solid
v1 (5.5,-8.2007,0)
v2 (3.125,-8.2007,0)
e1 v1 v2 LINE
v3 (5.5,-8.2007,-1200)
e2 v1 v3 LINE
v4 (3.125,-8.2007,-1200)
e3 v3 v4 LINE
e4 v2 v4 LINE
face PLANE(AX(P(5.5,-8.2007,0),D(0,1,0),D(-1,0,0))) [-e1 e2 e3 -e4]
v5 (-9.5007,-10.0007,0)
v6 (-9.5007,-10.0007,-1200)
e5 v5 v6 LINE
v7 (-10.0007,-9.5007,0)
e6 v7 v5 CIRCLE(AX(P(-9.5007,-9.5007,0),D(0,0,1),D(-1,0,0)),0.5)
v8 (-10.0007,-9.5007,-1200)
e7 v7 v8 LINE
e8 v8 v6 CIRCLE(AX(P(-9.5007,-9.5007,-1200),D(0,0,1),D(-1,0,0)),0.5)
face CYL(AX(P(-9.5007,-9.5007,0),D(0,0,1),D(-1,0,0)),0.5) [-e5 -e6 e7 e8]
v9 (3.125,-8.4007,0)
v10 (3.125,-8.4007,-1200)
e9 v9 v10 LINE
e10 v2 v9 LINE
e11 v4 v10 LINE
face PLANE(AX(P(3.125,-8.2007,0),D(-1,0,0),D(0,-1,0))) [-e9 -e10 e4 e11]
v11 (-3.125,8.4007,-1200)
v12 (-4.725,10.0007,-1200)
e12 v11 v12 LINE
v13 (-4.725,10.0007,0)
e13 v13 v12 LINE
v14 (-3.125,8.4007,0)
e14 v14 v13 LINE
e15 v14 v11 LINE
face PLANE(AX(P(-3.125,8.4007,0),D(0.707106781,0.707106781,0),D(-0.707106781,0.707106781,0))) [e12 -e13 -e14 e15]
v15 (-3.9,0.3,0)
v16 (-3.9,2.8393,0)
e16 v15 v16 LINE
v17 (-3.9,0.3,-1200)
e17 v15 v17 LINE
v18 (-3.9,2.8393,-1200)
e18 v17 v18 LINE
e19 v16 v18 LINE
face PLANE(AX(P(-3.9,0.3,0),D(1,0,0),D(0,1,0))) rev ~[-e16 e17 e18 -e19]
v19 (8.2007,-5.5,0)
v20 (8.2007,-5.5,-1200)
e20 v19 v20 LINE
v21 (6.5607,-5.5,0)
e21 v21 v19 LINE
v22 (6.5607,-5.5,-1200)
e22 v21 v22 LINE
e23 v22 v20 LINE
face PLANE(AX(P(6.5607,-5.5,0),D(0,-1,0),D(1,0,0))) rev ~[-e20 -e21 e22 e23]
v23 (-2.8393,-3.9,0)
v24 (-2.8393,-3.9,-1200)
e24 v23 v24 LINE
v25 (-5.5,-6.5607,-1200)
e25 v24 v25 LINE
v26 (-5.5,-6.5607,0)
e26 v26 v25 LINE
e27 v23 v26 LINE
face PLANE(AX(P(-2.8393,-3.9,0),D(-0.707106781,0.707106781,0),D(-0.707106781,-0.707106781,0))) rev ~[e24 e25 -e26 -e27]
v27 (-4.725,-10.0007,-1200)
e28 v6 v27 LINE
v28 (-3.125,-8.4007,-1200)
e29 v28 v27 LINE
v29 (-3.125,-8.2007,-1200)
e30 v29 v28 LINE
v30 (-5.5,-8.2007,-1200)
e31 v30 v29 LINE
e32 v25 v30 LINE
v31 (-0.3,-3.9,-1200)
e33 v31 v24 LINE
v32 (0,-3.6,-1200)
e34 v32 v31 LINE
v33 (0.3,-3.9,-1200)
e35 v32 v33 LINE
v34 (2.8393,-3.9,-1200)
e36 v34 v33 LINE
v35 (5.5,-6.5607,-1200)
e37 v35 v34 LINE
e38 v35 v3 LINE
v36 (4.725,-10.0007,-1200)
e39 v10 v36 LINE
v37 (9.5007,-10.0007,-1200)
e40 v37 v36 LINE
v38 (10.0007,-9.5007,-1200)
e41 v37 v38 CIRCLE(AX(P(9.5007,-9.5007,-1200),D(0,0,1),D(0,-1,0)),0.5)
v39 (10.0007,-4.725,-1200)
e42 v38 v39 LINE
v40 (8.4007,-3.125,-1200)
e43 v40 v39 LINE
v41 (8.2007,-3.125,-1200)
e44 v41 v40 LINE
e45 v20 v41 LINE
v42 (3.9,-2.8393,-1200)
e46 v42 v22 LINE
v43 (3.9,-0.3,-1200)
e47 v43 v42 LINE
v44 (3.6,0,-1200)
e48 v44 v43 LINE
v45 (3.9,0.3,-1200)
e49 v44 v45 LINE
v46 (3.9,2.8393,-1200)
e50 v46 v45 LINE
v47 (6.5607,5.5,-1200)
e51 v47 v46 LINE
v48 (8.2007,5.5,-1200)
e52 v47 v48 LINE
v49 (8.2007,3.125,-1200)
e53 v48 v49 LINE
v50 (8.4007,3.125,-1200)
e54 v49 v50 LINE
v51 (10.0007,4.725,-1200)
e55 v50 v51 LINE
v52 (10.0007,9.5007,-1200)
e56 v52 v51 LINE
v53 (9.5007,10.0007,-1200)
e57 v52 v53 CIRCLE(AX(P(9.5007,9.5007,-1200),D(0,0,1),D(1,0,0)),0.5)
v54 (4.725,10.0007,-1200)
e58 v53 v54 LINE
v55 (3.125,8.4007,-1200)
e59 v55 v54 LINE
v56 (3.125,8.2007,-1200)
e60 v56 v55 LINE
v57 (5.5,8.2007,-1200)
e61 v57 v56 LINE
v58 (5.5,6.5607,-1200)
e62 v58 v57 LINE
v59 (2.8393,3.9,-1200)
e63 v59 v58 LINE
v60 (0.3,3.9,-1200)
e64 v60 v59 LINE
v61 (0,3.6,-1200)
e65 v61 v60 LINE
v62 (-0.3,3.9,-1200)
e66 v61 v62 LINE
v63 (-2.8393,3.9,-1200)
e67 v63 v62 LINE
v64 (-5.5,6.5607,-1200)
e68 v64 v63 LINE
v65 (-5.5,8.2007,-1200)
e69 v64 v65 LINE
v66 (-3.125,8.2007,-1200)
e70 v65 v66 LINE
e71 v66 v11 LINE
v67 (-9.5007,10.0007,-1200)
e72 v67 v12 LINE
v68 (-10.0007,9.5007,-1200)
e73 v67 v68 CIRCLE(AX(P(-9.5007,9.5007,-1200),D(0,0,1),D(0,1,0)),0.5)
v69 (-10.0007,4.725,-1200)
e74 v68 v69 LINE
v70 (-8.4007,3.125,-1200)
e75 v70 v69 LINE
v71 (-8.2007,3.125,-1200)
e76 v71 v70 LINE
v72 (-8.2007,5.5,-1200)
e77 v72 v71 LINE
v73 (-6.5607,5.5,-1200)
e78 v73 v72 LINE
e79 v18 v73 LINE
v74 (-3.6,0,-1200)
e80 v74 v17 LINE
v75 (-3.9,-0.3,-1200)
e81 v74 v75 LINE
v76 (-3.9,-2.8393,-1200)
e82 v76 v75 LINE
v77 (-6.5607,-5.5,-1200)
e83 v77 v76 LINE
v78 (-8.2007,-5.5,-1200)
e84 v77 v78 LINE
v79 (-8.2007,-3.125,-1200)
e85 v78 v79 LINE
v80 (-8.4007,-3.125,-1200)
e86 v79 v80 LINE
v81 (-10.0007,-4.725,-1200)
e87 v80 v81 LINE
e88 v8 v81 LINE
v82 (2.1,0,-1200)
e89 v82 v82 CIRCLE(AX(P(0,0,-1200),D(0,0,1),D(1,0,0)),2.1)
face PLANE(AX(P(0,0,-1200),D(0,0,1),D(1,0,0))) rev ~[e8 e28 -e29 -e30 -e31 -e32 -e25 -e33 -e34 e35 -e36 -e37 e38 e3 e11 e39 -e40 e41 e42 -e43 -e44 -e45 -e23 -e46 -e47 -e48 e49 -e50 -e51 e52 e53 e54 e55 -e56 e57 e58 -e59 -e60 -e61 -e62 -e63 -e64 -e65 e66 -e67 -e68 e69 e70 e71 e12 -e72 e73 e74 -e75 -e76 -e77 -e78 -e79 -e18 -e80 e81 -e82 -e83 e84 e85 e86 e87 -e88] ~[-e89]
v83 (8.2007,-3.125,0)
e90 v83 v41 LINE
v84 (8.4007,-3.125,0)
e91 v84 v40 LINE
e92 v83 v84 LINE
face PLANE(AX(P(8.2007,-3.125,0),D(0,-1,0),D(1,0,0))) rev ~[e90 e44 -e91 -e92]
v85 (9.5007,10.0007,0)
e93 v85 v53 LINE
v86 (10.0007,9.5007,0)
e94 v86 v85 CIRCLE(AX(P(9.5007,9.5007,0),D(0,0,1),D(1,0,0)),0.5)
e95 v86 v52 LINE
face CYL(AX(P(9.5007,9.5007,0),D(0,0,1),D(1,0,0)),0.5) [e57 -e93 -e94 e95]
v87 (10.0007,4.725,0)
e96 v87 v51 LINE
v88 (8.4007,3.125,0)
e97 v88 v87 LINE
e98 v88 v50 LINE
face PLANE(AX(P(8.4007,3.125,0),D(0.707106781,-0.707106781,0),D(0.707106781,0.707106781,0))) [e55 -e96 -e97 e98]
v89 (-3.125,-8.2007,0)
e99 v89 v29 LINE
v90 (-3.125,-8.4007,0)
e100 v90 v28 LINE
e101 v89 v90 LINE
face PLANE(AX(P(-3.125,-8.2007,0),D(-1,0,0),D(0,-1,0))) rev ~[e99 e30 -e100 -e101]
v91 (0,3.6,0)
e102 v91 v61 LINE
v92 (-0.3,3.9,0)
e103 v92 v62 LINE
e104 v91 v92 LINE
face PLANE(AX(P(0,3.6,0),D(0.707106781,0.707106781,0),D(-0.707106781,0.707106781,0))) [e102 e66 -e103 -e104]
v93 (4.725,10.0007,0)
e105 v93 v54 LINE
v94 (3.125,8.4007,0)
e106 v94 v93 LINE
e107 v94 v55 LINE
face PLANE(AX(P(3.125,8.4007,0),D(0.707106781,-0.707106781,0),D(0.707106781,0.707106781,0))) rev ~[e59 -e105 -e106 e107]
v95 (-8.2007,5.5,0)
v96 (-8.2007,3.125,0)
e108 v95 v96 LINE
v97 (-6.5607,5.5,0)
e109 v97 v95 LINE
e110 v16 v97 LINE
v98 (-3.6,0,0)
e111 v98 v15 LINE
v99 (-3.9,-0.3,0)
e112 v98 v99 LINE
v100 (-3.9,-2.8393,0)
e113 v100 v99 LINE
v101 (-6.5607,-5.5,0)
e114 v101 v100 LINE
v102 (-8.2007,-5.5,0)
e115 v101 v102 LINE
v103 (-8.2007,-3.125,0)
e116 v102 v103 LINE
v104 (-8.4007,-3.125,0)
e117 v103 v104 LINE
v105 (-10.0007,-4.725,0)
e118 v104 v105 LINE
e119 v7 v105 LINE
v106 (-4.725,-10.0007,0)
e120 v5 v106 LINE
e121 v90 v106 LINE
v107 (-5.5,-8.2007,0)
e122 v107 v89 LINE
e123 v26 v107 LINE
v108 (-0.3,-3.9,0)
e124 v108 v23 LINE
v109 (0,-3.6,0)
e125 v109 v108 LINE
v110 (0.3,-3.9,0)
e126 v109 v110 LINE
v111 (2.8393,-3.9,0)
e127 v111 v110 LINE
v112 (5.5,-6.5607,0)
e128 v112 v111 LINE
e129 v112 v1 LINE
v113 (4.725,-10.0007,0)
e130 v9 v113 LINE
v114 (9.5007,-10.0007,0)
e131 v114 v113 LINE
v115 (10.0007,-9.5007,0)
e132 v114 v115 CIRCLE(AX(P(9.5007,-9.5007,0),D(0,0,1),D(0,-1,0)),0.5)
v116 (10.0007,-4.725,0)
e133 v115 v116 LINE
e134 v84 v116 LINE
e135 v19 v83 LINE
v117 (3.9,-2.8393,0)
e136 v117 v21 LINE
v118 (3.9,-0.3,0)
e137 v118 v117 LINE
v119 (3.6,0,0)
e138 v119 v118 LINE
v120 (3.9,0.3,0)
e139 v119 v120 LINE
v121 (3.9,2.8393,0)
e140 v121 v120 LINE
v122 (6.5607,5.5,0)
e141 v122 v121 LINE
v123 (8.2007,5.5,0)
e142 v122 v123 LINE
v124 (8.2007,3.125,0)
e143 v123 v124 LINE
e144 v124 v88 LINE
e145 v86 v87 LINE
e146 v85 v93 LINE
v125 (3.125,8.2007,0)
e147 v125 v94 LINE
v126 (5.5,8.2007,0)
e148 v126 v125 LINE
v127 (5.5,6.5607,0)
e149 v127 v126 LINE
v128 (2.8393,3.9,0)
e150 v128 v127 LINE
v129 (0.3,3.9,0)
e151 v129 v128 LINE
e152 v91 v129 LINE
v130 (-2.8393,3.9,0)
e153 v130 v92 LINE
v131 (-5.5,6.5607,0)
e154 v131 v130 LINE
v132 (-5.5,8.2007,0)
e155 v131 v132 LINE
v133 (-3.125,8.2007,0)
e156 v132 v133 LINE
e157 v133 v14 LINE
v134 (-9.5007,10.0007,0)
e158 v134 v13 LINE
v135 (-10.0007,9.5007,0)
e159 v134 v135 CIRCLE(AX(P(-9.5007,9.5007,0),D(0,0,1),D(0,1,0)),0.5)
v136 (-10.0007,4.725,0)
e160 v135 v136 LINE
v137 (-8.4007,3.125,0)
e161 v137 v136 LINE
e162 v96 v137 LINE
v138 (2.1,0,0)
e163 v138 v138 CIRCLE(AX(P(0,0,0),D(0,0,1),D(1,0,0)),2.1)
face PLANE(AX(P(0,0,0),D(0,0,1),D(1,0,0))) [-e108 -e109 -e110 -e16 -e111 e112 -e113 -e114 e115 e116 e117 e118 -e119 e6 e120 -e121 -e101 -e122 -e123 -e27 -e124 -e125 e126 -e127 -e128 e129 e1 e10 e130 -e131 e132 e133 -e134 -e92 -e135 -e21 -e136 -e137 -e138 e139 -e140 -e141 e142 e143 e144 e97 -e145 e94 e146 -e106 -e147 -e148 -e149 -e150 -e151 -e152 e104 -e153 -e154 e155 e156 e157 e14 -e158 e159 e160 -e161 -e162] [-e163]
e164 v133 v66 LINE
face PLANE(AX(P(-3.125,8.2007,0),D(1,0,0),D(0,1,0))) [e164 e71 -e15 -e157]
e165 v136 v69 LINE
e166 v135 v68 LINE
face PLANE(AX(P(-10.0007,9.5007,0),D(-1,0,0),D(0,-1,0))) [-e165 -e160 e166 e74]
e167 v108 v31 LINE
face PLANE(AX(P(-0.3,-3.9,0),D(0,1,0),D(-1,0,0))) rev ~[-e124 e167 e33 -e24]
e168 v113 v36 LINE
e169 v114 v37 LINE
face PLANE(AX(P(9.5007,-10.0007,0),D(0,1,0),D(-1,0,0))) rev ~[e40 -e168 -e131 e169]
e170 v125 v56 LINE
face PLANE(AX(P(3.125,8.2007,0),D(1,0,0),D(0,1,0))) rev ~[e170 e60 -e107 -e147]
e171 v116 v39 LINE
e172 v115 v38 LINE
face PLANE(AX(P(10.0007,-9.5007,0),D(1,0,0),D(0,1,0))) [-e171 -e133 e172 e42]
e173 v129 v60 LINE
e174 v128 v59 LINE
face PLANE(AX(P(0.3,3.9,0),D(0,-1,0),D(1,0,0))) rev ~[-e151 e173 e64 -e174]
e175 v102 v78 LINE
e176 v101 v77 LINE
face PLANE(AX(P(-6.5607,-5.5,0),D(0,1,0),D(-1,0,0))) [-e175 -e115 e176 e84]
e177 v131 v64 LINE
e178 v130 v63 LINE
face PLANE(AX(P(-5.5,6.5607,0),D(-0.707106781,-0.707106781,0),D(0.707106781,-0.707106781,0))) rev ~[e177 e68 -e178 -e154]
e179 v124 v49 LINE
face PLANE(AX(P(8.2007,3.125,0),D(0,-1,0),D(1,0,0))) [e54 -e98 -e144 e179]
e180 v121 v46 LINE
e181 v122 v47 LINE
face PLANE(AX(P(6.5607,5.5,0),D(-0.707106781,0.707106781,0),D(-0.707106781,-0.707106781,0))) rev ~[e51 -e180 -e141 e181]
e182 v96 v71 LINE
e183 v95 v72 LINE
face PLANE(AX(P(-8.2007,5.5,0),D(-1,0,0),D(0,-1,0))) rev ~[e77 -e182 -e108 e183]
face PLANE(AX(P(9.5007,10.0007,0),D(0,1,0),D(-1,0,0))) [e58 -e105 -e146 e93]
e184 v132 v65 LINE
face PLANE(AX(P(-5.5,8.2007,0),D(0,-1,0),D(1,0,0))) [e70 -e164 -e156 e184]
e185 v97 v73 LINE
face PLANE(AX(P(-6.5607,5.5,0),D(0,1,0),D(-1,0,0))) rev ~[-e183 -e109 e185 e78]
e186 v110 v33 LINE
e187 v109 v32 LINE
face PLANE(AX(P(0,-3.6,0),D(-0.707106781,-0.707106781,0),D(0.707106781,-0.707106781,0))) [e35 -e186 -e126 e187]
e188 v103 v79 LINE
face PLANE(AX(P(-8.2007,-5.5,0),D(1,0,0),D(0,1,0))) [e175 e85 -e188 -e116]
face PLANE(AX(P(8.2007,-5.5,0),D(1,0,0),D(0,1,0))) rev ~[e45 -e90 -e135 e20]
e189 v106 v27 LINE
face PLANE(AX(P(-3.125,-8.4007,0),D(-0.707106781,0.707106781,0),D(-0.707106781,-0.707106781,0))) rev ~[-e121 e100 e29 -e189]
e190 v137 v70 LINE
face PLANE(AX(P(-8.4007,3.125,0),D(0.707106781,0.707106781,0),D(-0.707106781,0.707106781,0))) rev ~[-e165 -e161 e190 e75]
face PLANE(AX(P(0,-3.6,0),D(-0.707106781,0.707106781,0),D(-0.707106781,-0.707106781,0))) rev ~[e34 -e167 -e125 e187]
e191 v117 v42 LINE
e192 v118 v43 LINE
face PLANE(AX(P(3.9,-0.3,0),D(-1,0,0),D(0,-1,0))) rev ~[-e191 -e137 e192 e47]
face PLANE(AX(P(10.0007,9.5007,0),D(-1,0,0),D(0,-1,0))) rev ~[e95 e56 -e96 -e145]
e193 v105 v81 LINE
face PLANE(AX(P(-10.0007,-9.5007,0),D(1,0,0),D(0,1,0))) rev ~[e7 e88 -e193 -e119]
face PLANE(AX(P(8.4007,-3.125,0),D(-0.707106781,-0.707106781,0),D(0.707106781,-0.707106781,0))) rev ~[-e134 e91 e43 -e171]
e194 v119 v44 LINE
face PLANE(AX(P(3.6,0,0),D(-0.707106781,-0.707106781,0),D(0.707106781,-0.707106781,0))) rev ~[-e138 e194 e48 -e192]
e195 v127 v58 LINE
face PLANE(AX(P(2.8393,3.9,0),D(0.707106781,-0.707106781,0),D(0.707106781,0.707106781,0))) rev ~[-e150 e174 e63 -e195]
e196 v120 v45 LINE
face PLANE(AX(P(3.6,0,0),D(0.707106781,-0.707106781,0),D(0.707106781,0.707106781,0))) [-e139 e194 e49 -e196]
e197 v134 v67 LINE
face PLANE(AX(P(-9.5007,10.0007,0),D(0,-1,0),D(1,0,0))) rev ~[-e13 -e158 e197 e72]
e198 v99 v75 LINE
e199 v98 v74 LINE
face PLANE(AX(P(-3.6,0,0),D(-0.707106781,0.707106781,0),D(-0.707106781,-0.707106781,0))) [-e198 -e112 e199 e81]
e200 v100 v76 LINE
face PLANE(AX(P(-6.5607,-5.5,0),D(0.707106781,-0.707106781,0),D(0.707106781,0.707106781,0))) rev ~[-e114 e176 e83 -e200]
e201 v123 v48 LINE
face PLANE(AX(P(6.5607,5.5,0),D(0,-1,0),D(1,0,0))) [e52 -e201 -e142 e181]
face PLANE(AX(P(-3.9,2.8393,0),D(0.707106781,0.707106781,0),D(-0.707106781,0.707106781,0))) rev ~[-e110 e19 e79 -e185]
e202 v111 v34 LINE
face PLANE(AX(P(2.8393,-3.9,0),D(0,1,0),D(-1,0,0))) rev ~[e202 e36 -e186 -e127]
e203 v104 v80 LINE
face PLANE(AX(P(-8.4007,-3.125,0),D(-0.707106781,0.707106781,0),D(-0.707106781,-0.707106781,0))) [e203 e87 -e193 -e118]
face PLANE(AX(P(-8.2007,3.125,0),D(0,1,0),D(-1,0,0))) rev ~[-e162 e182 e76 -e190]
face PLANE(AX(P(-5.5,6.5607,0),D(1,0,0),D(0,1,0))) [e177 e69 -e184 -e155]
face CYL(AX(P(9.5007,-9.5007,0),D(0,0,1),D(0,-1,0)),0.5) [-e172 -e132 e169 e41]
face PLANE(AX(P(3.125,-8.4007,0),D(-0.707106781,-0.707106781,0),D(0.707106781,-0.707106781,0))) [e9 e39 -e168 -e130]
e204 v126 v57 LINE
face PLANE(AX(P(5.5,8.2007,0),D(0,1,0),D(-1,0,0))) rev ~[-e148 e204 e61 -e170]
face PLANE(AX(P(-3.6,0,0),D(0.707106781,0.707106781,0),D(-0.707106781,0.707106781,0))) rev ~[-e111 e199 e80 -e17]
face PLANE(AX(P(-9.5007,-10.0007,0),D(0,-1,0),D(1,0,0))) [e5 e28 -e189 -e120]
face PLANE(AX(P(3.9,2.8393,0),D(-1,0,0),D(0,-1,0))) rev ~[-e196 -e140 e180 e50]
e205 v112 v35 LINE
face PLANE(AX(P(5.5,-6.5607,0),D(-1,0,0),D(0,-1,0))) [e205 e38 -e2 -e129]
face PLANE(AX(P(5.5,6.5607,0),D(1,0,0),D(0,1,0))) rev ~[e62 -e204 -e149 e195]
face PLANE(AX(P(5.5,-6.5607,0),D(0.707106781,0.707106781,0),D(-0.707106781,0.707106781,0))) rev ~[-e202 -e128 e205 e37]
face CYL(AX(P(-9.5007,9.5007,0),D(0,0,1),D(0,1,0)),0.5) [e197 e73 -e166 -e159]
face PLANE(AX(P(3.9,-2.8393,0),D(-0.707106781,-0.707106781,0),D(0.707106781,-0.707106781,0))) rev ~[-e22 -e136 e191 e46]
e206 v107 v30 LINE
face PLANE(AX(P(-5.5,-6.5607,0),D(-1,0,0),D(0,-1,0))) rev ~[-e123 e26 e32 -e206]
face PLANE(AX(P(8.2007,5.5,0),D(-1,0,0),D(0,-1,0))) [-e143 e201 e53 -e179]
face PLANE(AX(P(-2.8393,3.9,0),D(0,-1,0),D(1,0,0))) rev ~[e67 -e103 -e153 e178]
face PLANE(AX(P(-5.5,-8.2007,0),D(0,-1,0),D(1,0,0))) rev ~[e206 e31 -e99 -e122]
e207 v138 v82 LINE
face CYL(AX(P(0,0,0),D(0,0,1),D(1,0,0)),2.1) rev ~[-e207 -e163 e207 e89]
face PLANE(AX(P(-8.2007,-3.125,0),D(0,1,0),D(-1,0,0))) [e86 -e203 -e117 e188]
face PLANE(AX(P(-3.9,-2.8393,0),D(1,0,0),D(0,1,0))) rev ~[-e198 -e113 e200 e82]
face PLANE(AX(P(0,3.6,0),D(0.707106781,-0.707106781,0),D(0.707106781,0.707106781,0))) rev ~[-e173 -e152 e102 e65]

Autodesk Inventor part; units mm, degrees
ref_plane "YZ Plane" through (0, 0, 0) normal (1, 0, 0) x (0, 1, 0)
ref_plane "XZ Plane" through (0, 0, 0) normal (0, 1, 0) x (-1, 0, 0)
ref_plane "XY Plane" through (0, 0, 0) normal (0, 0, 1) x (1, 0, 0)
sketch "Sketch2" plane through (0, 0, 0) normal (0, 0, 1) x (1, 0, 0)
  arc A0 (-27.4375, 16.3608) -> (-26.9375, 16.8608) centre (-27.4375, 16.8608) ccw
  line L0 (-45.4375, 36.3608) -> (-46.4375, 36.3608)
  line L1 (-46.9375, 34.8608) -> (-46.9375, 35.8608)
  line L2 (-28.4375, 36.3608) -> (-27.4375, 36.3608)
  line L3 (-26.9375, 17.8608) -> (-26.9375, 16.8608)
  line L4 (-28.4375, 16.3608) -> (-27.4375, 16.3608)
  line L5 (-26.9375, 31.1923) -> (-26.9375, 35.8608)
  line L6 (-46.4375, 16.3608) -> (-41.7689, 16.3608)
  line L7 (-46.9375, 17.8608) -> (-46.9375, 16.8608)
  arc A1 (-46.9375, 16.8608) -> (-46.4375, 16.3608) centre (-46.4375, 16.8608) ccw
  arc A2 (-46.9375, 16.8608) -> (-46.4375, 16.3608) centre (-46.4375, 16.8608) ccw
  arc A3 (-46.4375, 36.3608) -> (-46.9375, 35.8608) centre (-46.4375, 35.8608) ccw
  arc A4 (-26.9375, 35.8608) -> (-27.4375, 36.3608) centre (-27.4375, 35.8608) ccw
  line L8 (-41.5004, 36.2982) -> (-41.5366, 36.3146)
  line L9 (-46.812, 30.8227) -> (-46.8352, 30.855)
  line L10 (-46.9375, 17.8608) -> (-46.9375, 21.4608)
  line L11 (-46.9362, 21.5691) -> (-46.9375, 21.4608)
  line L12 (-46.9258, 21.6478) -> (-46.9323, 21.6086)
  line L13 (-46.9323, 21.6086) -> (-46.9362, 21.5691)
  line L14 (-46.9168, 21.6865) -> (-46.9258, 21.6478)
  line L15 (-46.9053, 21.7245) -> (-46.9168, 21.6865)
  line L16 (-46.8913, 21.7617) -> (-46.9053, 21.7245)
  line L17 (-46.8749, 21.7979) -> (-46.8913, 21.7617)
  line L18 (-46.8561, 21.8329) -> (-46.8749, 21.7979)
  line L19 (-46.812, 21.8989) -> (-46.8352, 21.8667)
  line L20 (-46.8352, 21.8667) -> (-46.8561, 21.8329)
  line L21 (-41.4654, 36.2795) -> (-41.5004, 36.2982)
  line L22 (-46.7868, 21.9297) -> (-46.812, 21.8989)
  line L23 (-46.7597, 21.9586) -> (-46.7868, 21.9297)
  line L24 (-46.7597, 21.9586) -> (-45.2441, 23.4742)
  line L25 (-45.2441, 23.4742) -> (-45.1375, 23.4742)
  line L26 (-45.1375, 23.4742) -> (-45.1375, 20.8608)
  line L27 (-45.1375, 20.8608) -> (-43.4981, 20.8608)
  line L28 (-43.4981, 20.8608) -> (-40.8375, 23.5215)
  line L29 (-46.7868, 30.792) -> (-46.812, 30.8227)
  line L30 (-40.8375, 26.161) -> (-40.8375, 23.5215)
  line L31 (-40.6376, 26.3608) -> (-40.8375, 26.161)
  line L32 (-40.6376, 26.3608) -> (-40.8375, 26.5607)
  line L33 (-40.8375, 29.2002) -> (-40.8375, 26.5607)
  line L34 (-43.4981, 31.8608) -> (-40.8375, 29.2002)
  line L35 (-45.1375, 31.8608) -> (-43.4981, 31.8608)
  line L36 (-45.1375, 29.2475) -> (-45.1375, 31.8608)
  line L37 (-46.7597, 30.763) -> (-46.7868, 30.792)
  line L38 (-45.2441, 29.2475) -> (-45.1375, 29.2475)
  line L39 (-45.2441, 29.2475) -> (-46.7597, 30.763)
  line L40 (-28.7375, 20.8608) -> (-30.3768, 20.8608)
  line L41 (-41.5738, 36.3286) -> (-41.6118, 36.3402)
  line L42 (-41.3687, 36.2102) -> (-41.3994, 36.2354)
  line L43 (-41.3397, 36.183) -> (-41.3687, 36.2102)
  line L44 (-41.6118, 36.3402) -> (-41.6505, 36.3492)
  line L45 (-41.7292, 16.3621) -> (-41.7689, 16.3608)
  line L46 (-41.6897, 16.366) -> (-41.7292, 16.3621)
  line L47 (-41.6505, 16.3725) -> (-41.6897, 16.366)
  line L48 (-41.6118, 16.3815) -> (-41.6505, 16.3725)
  line L49 (-41.5738, 16.3931) -> (-41.6118, 16.3815)
  line L50 (-41.5366, 16.4071) -> (-41.5738, 16.3931)
  line L51 (-42.4375, 32.9215) -> (-39.7768, 30.2608)
  line L52 (-41.5004, 16.4235) -> (-41.5366, 16.4071)
  line L53 (-41.4654, 16.4422) -> (-41.5004, 16.4235)
  line L54 (-41.4317, 16.4632) -> (-41.4654, 16.4422)
  line L55 (-41.3994, 16.4863) -> (-41.4317, 16.4632)
  line L56 (-41.3687, 16.5115) -> (-41.3994, 16.4863)
  line L57 (-41.3397, 16.5386) -> (-41.3687, 16.5115)
  line L58 (-41.3397, 16.5386) -> (-39.8241, 18.0542)
  line L59 (-39.8241, 18.0542) -> (-39.8241, 18.1608)
  line L60 (-39.8241, 18.1608) -> (-42.4375, 18.1608)
  line L61 (-42.4375, 18.1608) -> (-42.4375, 19.8002)
  line L62 (-42.4375, 19.8002) -> (-39.7768, 22.4608)
  line L63 (-39.7768, 22.4608) -> (-37.1444, 22.4608)
  line L64 (-37.1444, 22.4608) -> (-36.9375, 22.6656)
  line L65 (-36.9375, 22.6656) -> (-36.7327, 22.4608)
  line L66 (-36.7327, 22.4608) -> (-34.0981, 22.4608)
  line L67 (-34.0981, 22.4608) -> (-31.4375, 19.8002)
  line L68 (-31.4375, 18.1608) -> (-31.4375, 19.8002)
  line L69 (-41.3397, 36.183) -> (-39.8241, 34.6675)
  line L70 (-34.0508, 18.1608) -> (-31.4375, 18.1608)
  line L71 (-41.6505, 36.3492) -> (-41.6897, 36.3557)
  line L72 (-34.0508, 18.0542) -> (-34.0508, 18.1608)
  line L73 (-34.0508, 18.0542) -> (-32.5353, 16.5387)
  line L74 (-32.5353, 16.5387) -> (-32.5063, 16.5115)
  line L75 (-32.5063, 16.5115) -> (-32.4756, 16.4863)
  line L76 (-32.4756, 16.4863) -> (-32.4433, 16.4632)
  line L77 (-32.4433, 16.4632) -> (-32.4096, 16.4422)
  line L78 (-32.4096, 16.4422) -> (-32.3745, 16.4235)
  line L79 (-32.3745, 16.4235) -> (-32.3383, 16.4071)
  line L80 (-32.3383, 16.4071) -> (-32.3012, 16.3931)
  line L81 (-32.3012, 16.3931) -> (-32.2631, 16.3815)
  line L82 (-32.2631, 16.3815) -> (-32.2245, 16.3725)
  line L83 (-32.2245, 16.3725) -> (-32.1853, 16.366)
  line L84 (-32.1853, 16.366) -> (-32.1457, 16.3621)
  line L85 (-32.1457, 16.3621) -> (-32.106, 16.3608)
  line L86 (-28.4375, 16.3608) -> (-32.106, 16.3608)
  line L87 (-39.8241, 34.6675) -> (-39.8241, 34.5608)
  line L88 (-41.6897, 36.3557) -> (-41.7292, 36.3595)
  line L89 (-26.9375, 17.8608) -> (-26.9375, 21.5294)
  line L90 (-26.9388, 21.5691) -> (-26.9375, 21.5294)
  line L91 (-26.9427, 21.6086) -> (-26.9388, 21.5691)
  line L92 (-26.9491, 21.6478) -> (-26.9427, 21.6086)
  line L93 (-26.9582, 21.6865) -> (-26.9491, 21.6478)
  line L94 (-26.9697, 21.7245) -> (-26.9582, 21.6865)
  line L95 (-26.9837, 21.7617) -> (-26.9697, 21.7245)
  line L96 (-27.0001, 21.7979) -> (-26.9837, 21.7617)
  line L97 (-41.7292, 36.3595) -> (-41.7689, 36.3608)
  line L98 (-27.0188, 21.8329) -> (-27.0001, 21.7979)
  line L99 (-27.0398, 21.8667) -> (-27.0188, 21.8329)
  line L100 (-27.0629, 21.8989) -> (-27.0398, 21.8667)
  line L101 (-27.0881, 21.9297) -> (-27.0629, 21.8989)
  line L102 (-27.1153, 21.9587) -> (-27.0881, 21.9297)
  line L103 (-28.6308, 23.4742) -> (-27.1153, 21.9587)
  line L104 (-28.6308, 23.4742) -> (-28.7375, 23.4742)
  line L105 (-28.7375, 23.4742) -> (-28.7375, 20.8608)
  line L106 (-32.3012, 36.3286) -> (-32.2631, 36.3402)
  line L107 (-30.3768, 20.8608) -> (-33.0375, 23.5215)
  line L108 (-33.0375, 23.5215) -> (-33.0375, 26.161)
  line L109 (-33.2373, 26.3608) -> (-33.0375, 26.161)
  line L110 (-33.2373, 26.3608) -> (-33.0375, 26.5607)
  line L111 (-33.0375, 29.2002) -> (-33.0375, 26.5607)
  line L112 (-30.3768, 31.8608) -> (-33.0375, 29.2002)
  line L113 (-45.4375, 36.3608) -> (-41.7689, 36.3608)
  line L114 (-28.6308, 29.2475) -> (-28.7375, 29.2475)
  line L115 (-28.7375, 31.8608) -> (-30.3768, 31.8608)
  line L116 (-28.7375, 29.2475) -> (-28.7375, 31.8608)
  line L117 (-27.1153, 30.763) -> (-28.6308, 29.2475)
  line L118 (-27.1153, 30.763) -> (-27.0881, 30.792)
  line L119 (-27.0881, 30.792) -> (-27.0629, 30.8227)
  line L120 (-27.0629, 30.8227) -> (-27.0398, 30.855)
  line L121 (-27.0398, 30.855) -> (-27.0188, 30.8888)
  line L122 (-27.0188, 30.8888) -> (-27.0001, 30.9238)
  line L123 (-27.0001, 30.9238) -> (-26.9837, 30.96)
  line L124 (-26.9837, 30.96) -> (-26.9697, 30.9972)
  line L125 (-26.9697, 30.9972) -> (-26.9582, 31.0352)
  line L126 (-26.9582, 31.0352) -> (-26.9491, 31.0739)
  line L127 (-26.9491, 31.0739) -> (-26.9427, 31.1131)
  line L128 (-26.9427, 31.1131) -> (-26.9388, 31.1526)
  line L129 (-26.9388, 31.1526) -> (-26.9375, 31.1923)
  line L130 (-39.8241, 34.5608) -> (-42.4375, 34.5608)
  line L131 (-28.4375, 36.3608) -> (-32.106, 36.3608)
  line L132 (-32.1457, 36.3595) -> (-32.106, 36.3608)
  line L133 (-32.1853, 36.3557) -> (-32.1457, 36.3595)
  line L134 (-32.2631, 36.3402) -> (-32.2245, 36.3492)
  line L135 (-32.3383, 36.3146) -> (-32.3012, 36.3286)
  line L136 (-32.3745, 36.2982) -> (-32.3383, 36.3146)
  line L137 (-32.4096, 36.2795) -> (-32.3745, 36.2982)
  line L138 (-32.4433, 36.2585) -> (-32.4096, 36.2795)
  line L139 (-32.4756, 36.2354) -> (-32.4433, 36.2585)
  line L140 (-32.5063, 36.2102) -> (-32.4756, 36.2354)
  line L141 (-46.9323, 31.1131) -> (-46.9362, 31.1526)
  line L142 (-34.0508, 34.6675) -> (-32.5353, 36.183)
  line L143 (-34.0508, 34.6675) -> (-34.0508, 34.5608)
  line L144 (-34.0508, 34.5608) -> (-31.4375, 34.5608)
  line L145 (-31.4375, 34.5608) -> (-31.4375, 32.9215)
  line L146 (-34.0981, 30.2608) -> (-31.4375, 32.9215)
  line L147 (-34.0981, 30.2608) -> (-36.7327, 30.2608)
  line L148 (-42.4375, 34.5608) -> (-42.4375, 32.9215)
  line L149 (-36.7327, 30.2608) -> (-36.9375, 30.0561)
  line L150 (-37.1422, 30.2608) -> (-36.9375, 30.0561)
  line L151 (-39.7768, 30.2608) -> (-37.1422, 30.2608)
  line L152 (-32.5353, 36.183) -> (-32.5063, 36.2102)
  line L153 (-41.3994, 36.2354) -> (-41.4317, 36.2585)
  line L154 (-46.9258, 31.0739) -> (-46.9323, 31.1131)
  line L155 (-41.4317, 36.2585) -> (-41.4654, 36.2795)
  line L156 (-46.9362, 31.1526) -> (-46.9375, 31.2608)
  line L157 (-46.9168, 31.0352) -> (-46.9258, 31.0739)
  line L158 (-46.9375, 34.8608) -> (-46.9375, 31.2608)
  line L159 (-46.9053, 30.9972) -> (-46.9168, 31.0352)
  line L160 (-46.8913, 30.96) -> (-46.9053, 30.9972)
  line L161 (-46.8749, 30.9238) -> (-46.8913, 30.96)
  line L162 (-46.8561, 30.8888) -> (-46.8749, 30.9238)
  line L163 (-32.2245, 36.3492) -> (-32.1853, 36.3557)
  line L164 (-41.5366, 36.3146) -> (-41.5738, 36.3286)
  line L165 (-46.8352, 30.855) -> (-46.8561, 30.8888)
  circle A5 centre (-36.9375, 26.3608) radius 2.1
  line L166 (3.9, -0.3) -> (3.9, -2.8393)
  line L167 (2.8393, -3.9) -> (0.3, -3.9)
  line L168 (5.5, -6.5607) -> (2.8393, -3.9)
  line L169 (3.9, -2.8393) -> (6.5607, -5.5)
  line L170 (6.5607, -5.5) -> (8.2007, -5.5)
  line L171 (8.2007, -5.5) -> (8.2007, -3.125)
  line L172 (8.2007, -3.125) -> (8.4007, -3.125)
  line L173 (8.4007, -3.125) -> (10.0007, -4.725)
  line L174 (10.0007, -9.5007) -> (10.0007, -4.725)
  line L175 (5.5, -6.5607) -> (5.5, -8.2007)
  line L176 (5.5, -8.2007) -> (3.125, -8.2007)
  line L177 (3.125, -8.2007) -> (3.125, -8.4007)
  line L178 (3.125, -8.4007) -> (4.725, -10.0007)
  line L179 (9.5007, -10.0007) -> (4.725, -10.0007)
  arc A6 (9.5007, -10.0007) -> (10.0007, -9.5007) centre (9.5007, -9.5007) ccw
  line L180 (0, -3.6) -> (0.3, -3.9)
  line L181 (3.6, 0) -> (3.9, -0.3)
  line L182 (3.125, 8.2007) -> (3.125, 8.4007)
  line L183 (0.3, 3.9) -> (2.8393, 3.9)
  line L184 (5.5, 8.2007) -> (3.125, 8.2007)
  line L185 (2.8393, 3.9) -> (5.5, 6.5607)
  line L186 (3.9, 2.8393) -> (3.9, 0.3)
  line L187 (3.6, 0) -> (3.9, 0.3)
  line L188 (6.5607, 5.5) -> (3.9, 2.8393)
  line L189 (5.5, 6.5607) -> (5.5, 8.2007)
  line L190 (3.125, 8.4007) -> (4.725, 10.0007)
  line L191 (6.5607, 5.5) -> (8.2007, 5.5)
  line L192 (8.2007, 5.5) -> (8.2007, 3.125)
  line L193 (8.2007, 3.125) -> (8.4007, 3.125)
  line L194 (8.4007, 3.125) -> (10.0007, 4.725)
  line L195 (9.5007, 10.0007) -> (4.725, 10.0007)
  arc A7 (10.0007, 9.5007) -> (9.5007, 10.0007) centre (9.5007, 9.5007) ccw
  line L196 (10.0007, 9.5007) -> (10.0007, 4.725)
  line L197 (0, 3.6) -> (0.3, 3.9)
  line L198 (-8.2007, 3.125) -> (-8.4007, 3.125)
  line L199 (-3.9, 0.3) -> (-3.9, 2.8393)
  line L200 (-8.2007, 5.5) -> (-8.2007, 3.125)
  line L201 (-3.9, 2.8393) -> (-6.5607, 5.5)
  line L202 (-2.8393, 3.9) -> (-0.3, 3.9)
  line L203 (0, 3.6) -> (-0.3, 3.9)
  line L204 (-5.5, 6.5607) -> (-2.8393, 3.9)
  line L205 (-6.5607, 5.5) -> (-8.2007, 5.5)
  line L206 (-8.4007, 3.125) -> (-10.0007, 4.725)
  line L207 (-5.5, 6.5607) -> (-5.5, 8.2007)
  line L208 (-5.5, 8.2007) -> (-3.125, 8.2007)
  line L209 (-3.125, 8.2007) -> (-3.125, 8.4007)
  line L210 (-3.125, 8.4007) -> (-4.725, 10.0007)
  line L211 (-10.0007, 9.5007) -> (-10.0007, 4.725)
  arc A8 (-9.5007, 10.0007) -> (-10.0007, 9.5007) centre (-9.5007, 9.5007) ccw
  line L212 (-9.5007, 10.0007) -> (-4.725, 10.0007)
  line L213 (-3.6, 0) -> (-3.9, 0.3)
  line L214 (-3.125, -8.2007) -> (-3.125, -8.4007)
  line L215 (-0.3, -3.9) -> (-2.8393, -3.9)
  line L216 (-5.5, -8.2007) -> (-3.125, -8.2007)
  line L217 (-2.8393, -3.9) -> (-5.5, -6.5607)
  line L218 (-3.9, -2.8393) -> (-3.9, -0.3)
  line L219 (-3.6, 0) -> (-3.9, -0.3)
  line L220 (-6.5607, -5.5) -> (-3.9, -2.8393)
  line L221 (-5.5, -6.5607) -> (-5.5, -8.2007)
  line L222 (-3.125, -8.4007) -> (-4.725, -10.0007)
  line L223 (-6.5607, -5.5) -> (-8.2007, -5.5)
  line L224 (-8.2007, -5.5) -> (-8.2007, -3.125)
  line L225 (-8.2007, -3.125) -> (-8.4007, -3.125)
  line L226 (-8.4007, -3.125) -> (-10.0007, -4.725)
  line L227 (-9.5007, -10.0007) -> (-4.725, -10.0007)
  arc A9 (-10.0007, -9.5007) -> (-9.5007, -10.0007) centre (-9.5007, -9.5007) ccw
  line L228 (-10.0007, -9.5007) -> (-10.0007, -4.725)
  line L229 (0, -3.6) -> (-0.3, -3.9)
  circle A10 centre (0, 0) radius 2.1
  point P0 (0, -3.9)
  point P1 (3.9, 0)
  point P2 (3.9, 0)
  point P3 (0, 3.9)
  point P4 (0, 3.9)
  point P5 (3.9, 0)
  point P6 (-3.9, 0)
  point P7 (-3.9, 0)
  point P8 (0, 3.9)
  point P9 (0, -3.9)
  point P10 (0, -3.9)
  point P11 (-3.9, 0)
  dimension "d1" = 4.2
  dimension "d2" = 1.5
  dimension "d4" = 3.9
  dimension "d5" = 3.9
  dimension "d7" = 1.5
  dimension "d9" = 1.64
  dimension "d10" = 135
  dimension "d11" = 1.8
  dimension "d12" = 3.125
  dimension "d13" = 5.5
  dimension "d14" = 45
  dimension "d15" = 0.2
  dimension "d16" = 0.5
  dimension "d17" = 0.3
  dimension "d18" = 0.3
  dimension "d19" = 0.3
  dimension "d20" = 0.3
  dimension "d23" = 360
  dimension "d25" = 4.2
extrude "Extrusion1" add sketch "Sketch2" against normal blind 1200 contours L166 L169 L170 L171 L172 L173 L174 A6 L179 L178 L177 L176 L175 L168 L167 L180 L229 L215 L217 L221 L216 L214 L222 L227 A9 L228 L226 L225 L224 L223 L220 L218 L219 L213 L199 L201 L205 L200 L198 L206 L211 A8 L212 L210 L209 L208 L207 L204 L202 L203 L197 L183 L185 L189 L184 L182 L190 L195 A7 L196 L194 L193 L192 L191 L188 L186 L187 L181
equation "\"d5\" = d4"
equation "\"d18\" = d17"
equation "\"d20\" = d19"
properties part number "v-slot" material "Aluminum 6061"
